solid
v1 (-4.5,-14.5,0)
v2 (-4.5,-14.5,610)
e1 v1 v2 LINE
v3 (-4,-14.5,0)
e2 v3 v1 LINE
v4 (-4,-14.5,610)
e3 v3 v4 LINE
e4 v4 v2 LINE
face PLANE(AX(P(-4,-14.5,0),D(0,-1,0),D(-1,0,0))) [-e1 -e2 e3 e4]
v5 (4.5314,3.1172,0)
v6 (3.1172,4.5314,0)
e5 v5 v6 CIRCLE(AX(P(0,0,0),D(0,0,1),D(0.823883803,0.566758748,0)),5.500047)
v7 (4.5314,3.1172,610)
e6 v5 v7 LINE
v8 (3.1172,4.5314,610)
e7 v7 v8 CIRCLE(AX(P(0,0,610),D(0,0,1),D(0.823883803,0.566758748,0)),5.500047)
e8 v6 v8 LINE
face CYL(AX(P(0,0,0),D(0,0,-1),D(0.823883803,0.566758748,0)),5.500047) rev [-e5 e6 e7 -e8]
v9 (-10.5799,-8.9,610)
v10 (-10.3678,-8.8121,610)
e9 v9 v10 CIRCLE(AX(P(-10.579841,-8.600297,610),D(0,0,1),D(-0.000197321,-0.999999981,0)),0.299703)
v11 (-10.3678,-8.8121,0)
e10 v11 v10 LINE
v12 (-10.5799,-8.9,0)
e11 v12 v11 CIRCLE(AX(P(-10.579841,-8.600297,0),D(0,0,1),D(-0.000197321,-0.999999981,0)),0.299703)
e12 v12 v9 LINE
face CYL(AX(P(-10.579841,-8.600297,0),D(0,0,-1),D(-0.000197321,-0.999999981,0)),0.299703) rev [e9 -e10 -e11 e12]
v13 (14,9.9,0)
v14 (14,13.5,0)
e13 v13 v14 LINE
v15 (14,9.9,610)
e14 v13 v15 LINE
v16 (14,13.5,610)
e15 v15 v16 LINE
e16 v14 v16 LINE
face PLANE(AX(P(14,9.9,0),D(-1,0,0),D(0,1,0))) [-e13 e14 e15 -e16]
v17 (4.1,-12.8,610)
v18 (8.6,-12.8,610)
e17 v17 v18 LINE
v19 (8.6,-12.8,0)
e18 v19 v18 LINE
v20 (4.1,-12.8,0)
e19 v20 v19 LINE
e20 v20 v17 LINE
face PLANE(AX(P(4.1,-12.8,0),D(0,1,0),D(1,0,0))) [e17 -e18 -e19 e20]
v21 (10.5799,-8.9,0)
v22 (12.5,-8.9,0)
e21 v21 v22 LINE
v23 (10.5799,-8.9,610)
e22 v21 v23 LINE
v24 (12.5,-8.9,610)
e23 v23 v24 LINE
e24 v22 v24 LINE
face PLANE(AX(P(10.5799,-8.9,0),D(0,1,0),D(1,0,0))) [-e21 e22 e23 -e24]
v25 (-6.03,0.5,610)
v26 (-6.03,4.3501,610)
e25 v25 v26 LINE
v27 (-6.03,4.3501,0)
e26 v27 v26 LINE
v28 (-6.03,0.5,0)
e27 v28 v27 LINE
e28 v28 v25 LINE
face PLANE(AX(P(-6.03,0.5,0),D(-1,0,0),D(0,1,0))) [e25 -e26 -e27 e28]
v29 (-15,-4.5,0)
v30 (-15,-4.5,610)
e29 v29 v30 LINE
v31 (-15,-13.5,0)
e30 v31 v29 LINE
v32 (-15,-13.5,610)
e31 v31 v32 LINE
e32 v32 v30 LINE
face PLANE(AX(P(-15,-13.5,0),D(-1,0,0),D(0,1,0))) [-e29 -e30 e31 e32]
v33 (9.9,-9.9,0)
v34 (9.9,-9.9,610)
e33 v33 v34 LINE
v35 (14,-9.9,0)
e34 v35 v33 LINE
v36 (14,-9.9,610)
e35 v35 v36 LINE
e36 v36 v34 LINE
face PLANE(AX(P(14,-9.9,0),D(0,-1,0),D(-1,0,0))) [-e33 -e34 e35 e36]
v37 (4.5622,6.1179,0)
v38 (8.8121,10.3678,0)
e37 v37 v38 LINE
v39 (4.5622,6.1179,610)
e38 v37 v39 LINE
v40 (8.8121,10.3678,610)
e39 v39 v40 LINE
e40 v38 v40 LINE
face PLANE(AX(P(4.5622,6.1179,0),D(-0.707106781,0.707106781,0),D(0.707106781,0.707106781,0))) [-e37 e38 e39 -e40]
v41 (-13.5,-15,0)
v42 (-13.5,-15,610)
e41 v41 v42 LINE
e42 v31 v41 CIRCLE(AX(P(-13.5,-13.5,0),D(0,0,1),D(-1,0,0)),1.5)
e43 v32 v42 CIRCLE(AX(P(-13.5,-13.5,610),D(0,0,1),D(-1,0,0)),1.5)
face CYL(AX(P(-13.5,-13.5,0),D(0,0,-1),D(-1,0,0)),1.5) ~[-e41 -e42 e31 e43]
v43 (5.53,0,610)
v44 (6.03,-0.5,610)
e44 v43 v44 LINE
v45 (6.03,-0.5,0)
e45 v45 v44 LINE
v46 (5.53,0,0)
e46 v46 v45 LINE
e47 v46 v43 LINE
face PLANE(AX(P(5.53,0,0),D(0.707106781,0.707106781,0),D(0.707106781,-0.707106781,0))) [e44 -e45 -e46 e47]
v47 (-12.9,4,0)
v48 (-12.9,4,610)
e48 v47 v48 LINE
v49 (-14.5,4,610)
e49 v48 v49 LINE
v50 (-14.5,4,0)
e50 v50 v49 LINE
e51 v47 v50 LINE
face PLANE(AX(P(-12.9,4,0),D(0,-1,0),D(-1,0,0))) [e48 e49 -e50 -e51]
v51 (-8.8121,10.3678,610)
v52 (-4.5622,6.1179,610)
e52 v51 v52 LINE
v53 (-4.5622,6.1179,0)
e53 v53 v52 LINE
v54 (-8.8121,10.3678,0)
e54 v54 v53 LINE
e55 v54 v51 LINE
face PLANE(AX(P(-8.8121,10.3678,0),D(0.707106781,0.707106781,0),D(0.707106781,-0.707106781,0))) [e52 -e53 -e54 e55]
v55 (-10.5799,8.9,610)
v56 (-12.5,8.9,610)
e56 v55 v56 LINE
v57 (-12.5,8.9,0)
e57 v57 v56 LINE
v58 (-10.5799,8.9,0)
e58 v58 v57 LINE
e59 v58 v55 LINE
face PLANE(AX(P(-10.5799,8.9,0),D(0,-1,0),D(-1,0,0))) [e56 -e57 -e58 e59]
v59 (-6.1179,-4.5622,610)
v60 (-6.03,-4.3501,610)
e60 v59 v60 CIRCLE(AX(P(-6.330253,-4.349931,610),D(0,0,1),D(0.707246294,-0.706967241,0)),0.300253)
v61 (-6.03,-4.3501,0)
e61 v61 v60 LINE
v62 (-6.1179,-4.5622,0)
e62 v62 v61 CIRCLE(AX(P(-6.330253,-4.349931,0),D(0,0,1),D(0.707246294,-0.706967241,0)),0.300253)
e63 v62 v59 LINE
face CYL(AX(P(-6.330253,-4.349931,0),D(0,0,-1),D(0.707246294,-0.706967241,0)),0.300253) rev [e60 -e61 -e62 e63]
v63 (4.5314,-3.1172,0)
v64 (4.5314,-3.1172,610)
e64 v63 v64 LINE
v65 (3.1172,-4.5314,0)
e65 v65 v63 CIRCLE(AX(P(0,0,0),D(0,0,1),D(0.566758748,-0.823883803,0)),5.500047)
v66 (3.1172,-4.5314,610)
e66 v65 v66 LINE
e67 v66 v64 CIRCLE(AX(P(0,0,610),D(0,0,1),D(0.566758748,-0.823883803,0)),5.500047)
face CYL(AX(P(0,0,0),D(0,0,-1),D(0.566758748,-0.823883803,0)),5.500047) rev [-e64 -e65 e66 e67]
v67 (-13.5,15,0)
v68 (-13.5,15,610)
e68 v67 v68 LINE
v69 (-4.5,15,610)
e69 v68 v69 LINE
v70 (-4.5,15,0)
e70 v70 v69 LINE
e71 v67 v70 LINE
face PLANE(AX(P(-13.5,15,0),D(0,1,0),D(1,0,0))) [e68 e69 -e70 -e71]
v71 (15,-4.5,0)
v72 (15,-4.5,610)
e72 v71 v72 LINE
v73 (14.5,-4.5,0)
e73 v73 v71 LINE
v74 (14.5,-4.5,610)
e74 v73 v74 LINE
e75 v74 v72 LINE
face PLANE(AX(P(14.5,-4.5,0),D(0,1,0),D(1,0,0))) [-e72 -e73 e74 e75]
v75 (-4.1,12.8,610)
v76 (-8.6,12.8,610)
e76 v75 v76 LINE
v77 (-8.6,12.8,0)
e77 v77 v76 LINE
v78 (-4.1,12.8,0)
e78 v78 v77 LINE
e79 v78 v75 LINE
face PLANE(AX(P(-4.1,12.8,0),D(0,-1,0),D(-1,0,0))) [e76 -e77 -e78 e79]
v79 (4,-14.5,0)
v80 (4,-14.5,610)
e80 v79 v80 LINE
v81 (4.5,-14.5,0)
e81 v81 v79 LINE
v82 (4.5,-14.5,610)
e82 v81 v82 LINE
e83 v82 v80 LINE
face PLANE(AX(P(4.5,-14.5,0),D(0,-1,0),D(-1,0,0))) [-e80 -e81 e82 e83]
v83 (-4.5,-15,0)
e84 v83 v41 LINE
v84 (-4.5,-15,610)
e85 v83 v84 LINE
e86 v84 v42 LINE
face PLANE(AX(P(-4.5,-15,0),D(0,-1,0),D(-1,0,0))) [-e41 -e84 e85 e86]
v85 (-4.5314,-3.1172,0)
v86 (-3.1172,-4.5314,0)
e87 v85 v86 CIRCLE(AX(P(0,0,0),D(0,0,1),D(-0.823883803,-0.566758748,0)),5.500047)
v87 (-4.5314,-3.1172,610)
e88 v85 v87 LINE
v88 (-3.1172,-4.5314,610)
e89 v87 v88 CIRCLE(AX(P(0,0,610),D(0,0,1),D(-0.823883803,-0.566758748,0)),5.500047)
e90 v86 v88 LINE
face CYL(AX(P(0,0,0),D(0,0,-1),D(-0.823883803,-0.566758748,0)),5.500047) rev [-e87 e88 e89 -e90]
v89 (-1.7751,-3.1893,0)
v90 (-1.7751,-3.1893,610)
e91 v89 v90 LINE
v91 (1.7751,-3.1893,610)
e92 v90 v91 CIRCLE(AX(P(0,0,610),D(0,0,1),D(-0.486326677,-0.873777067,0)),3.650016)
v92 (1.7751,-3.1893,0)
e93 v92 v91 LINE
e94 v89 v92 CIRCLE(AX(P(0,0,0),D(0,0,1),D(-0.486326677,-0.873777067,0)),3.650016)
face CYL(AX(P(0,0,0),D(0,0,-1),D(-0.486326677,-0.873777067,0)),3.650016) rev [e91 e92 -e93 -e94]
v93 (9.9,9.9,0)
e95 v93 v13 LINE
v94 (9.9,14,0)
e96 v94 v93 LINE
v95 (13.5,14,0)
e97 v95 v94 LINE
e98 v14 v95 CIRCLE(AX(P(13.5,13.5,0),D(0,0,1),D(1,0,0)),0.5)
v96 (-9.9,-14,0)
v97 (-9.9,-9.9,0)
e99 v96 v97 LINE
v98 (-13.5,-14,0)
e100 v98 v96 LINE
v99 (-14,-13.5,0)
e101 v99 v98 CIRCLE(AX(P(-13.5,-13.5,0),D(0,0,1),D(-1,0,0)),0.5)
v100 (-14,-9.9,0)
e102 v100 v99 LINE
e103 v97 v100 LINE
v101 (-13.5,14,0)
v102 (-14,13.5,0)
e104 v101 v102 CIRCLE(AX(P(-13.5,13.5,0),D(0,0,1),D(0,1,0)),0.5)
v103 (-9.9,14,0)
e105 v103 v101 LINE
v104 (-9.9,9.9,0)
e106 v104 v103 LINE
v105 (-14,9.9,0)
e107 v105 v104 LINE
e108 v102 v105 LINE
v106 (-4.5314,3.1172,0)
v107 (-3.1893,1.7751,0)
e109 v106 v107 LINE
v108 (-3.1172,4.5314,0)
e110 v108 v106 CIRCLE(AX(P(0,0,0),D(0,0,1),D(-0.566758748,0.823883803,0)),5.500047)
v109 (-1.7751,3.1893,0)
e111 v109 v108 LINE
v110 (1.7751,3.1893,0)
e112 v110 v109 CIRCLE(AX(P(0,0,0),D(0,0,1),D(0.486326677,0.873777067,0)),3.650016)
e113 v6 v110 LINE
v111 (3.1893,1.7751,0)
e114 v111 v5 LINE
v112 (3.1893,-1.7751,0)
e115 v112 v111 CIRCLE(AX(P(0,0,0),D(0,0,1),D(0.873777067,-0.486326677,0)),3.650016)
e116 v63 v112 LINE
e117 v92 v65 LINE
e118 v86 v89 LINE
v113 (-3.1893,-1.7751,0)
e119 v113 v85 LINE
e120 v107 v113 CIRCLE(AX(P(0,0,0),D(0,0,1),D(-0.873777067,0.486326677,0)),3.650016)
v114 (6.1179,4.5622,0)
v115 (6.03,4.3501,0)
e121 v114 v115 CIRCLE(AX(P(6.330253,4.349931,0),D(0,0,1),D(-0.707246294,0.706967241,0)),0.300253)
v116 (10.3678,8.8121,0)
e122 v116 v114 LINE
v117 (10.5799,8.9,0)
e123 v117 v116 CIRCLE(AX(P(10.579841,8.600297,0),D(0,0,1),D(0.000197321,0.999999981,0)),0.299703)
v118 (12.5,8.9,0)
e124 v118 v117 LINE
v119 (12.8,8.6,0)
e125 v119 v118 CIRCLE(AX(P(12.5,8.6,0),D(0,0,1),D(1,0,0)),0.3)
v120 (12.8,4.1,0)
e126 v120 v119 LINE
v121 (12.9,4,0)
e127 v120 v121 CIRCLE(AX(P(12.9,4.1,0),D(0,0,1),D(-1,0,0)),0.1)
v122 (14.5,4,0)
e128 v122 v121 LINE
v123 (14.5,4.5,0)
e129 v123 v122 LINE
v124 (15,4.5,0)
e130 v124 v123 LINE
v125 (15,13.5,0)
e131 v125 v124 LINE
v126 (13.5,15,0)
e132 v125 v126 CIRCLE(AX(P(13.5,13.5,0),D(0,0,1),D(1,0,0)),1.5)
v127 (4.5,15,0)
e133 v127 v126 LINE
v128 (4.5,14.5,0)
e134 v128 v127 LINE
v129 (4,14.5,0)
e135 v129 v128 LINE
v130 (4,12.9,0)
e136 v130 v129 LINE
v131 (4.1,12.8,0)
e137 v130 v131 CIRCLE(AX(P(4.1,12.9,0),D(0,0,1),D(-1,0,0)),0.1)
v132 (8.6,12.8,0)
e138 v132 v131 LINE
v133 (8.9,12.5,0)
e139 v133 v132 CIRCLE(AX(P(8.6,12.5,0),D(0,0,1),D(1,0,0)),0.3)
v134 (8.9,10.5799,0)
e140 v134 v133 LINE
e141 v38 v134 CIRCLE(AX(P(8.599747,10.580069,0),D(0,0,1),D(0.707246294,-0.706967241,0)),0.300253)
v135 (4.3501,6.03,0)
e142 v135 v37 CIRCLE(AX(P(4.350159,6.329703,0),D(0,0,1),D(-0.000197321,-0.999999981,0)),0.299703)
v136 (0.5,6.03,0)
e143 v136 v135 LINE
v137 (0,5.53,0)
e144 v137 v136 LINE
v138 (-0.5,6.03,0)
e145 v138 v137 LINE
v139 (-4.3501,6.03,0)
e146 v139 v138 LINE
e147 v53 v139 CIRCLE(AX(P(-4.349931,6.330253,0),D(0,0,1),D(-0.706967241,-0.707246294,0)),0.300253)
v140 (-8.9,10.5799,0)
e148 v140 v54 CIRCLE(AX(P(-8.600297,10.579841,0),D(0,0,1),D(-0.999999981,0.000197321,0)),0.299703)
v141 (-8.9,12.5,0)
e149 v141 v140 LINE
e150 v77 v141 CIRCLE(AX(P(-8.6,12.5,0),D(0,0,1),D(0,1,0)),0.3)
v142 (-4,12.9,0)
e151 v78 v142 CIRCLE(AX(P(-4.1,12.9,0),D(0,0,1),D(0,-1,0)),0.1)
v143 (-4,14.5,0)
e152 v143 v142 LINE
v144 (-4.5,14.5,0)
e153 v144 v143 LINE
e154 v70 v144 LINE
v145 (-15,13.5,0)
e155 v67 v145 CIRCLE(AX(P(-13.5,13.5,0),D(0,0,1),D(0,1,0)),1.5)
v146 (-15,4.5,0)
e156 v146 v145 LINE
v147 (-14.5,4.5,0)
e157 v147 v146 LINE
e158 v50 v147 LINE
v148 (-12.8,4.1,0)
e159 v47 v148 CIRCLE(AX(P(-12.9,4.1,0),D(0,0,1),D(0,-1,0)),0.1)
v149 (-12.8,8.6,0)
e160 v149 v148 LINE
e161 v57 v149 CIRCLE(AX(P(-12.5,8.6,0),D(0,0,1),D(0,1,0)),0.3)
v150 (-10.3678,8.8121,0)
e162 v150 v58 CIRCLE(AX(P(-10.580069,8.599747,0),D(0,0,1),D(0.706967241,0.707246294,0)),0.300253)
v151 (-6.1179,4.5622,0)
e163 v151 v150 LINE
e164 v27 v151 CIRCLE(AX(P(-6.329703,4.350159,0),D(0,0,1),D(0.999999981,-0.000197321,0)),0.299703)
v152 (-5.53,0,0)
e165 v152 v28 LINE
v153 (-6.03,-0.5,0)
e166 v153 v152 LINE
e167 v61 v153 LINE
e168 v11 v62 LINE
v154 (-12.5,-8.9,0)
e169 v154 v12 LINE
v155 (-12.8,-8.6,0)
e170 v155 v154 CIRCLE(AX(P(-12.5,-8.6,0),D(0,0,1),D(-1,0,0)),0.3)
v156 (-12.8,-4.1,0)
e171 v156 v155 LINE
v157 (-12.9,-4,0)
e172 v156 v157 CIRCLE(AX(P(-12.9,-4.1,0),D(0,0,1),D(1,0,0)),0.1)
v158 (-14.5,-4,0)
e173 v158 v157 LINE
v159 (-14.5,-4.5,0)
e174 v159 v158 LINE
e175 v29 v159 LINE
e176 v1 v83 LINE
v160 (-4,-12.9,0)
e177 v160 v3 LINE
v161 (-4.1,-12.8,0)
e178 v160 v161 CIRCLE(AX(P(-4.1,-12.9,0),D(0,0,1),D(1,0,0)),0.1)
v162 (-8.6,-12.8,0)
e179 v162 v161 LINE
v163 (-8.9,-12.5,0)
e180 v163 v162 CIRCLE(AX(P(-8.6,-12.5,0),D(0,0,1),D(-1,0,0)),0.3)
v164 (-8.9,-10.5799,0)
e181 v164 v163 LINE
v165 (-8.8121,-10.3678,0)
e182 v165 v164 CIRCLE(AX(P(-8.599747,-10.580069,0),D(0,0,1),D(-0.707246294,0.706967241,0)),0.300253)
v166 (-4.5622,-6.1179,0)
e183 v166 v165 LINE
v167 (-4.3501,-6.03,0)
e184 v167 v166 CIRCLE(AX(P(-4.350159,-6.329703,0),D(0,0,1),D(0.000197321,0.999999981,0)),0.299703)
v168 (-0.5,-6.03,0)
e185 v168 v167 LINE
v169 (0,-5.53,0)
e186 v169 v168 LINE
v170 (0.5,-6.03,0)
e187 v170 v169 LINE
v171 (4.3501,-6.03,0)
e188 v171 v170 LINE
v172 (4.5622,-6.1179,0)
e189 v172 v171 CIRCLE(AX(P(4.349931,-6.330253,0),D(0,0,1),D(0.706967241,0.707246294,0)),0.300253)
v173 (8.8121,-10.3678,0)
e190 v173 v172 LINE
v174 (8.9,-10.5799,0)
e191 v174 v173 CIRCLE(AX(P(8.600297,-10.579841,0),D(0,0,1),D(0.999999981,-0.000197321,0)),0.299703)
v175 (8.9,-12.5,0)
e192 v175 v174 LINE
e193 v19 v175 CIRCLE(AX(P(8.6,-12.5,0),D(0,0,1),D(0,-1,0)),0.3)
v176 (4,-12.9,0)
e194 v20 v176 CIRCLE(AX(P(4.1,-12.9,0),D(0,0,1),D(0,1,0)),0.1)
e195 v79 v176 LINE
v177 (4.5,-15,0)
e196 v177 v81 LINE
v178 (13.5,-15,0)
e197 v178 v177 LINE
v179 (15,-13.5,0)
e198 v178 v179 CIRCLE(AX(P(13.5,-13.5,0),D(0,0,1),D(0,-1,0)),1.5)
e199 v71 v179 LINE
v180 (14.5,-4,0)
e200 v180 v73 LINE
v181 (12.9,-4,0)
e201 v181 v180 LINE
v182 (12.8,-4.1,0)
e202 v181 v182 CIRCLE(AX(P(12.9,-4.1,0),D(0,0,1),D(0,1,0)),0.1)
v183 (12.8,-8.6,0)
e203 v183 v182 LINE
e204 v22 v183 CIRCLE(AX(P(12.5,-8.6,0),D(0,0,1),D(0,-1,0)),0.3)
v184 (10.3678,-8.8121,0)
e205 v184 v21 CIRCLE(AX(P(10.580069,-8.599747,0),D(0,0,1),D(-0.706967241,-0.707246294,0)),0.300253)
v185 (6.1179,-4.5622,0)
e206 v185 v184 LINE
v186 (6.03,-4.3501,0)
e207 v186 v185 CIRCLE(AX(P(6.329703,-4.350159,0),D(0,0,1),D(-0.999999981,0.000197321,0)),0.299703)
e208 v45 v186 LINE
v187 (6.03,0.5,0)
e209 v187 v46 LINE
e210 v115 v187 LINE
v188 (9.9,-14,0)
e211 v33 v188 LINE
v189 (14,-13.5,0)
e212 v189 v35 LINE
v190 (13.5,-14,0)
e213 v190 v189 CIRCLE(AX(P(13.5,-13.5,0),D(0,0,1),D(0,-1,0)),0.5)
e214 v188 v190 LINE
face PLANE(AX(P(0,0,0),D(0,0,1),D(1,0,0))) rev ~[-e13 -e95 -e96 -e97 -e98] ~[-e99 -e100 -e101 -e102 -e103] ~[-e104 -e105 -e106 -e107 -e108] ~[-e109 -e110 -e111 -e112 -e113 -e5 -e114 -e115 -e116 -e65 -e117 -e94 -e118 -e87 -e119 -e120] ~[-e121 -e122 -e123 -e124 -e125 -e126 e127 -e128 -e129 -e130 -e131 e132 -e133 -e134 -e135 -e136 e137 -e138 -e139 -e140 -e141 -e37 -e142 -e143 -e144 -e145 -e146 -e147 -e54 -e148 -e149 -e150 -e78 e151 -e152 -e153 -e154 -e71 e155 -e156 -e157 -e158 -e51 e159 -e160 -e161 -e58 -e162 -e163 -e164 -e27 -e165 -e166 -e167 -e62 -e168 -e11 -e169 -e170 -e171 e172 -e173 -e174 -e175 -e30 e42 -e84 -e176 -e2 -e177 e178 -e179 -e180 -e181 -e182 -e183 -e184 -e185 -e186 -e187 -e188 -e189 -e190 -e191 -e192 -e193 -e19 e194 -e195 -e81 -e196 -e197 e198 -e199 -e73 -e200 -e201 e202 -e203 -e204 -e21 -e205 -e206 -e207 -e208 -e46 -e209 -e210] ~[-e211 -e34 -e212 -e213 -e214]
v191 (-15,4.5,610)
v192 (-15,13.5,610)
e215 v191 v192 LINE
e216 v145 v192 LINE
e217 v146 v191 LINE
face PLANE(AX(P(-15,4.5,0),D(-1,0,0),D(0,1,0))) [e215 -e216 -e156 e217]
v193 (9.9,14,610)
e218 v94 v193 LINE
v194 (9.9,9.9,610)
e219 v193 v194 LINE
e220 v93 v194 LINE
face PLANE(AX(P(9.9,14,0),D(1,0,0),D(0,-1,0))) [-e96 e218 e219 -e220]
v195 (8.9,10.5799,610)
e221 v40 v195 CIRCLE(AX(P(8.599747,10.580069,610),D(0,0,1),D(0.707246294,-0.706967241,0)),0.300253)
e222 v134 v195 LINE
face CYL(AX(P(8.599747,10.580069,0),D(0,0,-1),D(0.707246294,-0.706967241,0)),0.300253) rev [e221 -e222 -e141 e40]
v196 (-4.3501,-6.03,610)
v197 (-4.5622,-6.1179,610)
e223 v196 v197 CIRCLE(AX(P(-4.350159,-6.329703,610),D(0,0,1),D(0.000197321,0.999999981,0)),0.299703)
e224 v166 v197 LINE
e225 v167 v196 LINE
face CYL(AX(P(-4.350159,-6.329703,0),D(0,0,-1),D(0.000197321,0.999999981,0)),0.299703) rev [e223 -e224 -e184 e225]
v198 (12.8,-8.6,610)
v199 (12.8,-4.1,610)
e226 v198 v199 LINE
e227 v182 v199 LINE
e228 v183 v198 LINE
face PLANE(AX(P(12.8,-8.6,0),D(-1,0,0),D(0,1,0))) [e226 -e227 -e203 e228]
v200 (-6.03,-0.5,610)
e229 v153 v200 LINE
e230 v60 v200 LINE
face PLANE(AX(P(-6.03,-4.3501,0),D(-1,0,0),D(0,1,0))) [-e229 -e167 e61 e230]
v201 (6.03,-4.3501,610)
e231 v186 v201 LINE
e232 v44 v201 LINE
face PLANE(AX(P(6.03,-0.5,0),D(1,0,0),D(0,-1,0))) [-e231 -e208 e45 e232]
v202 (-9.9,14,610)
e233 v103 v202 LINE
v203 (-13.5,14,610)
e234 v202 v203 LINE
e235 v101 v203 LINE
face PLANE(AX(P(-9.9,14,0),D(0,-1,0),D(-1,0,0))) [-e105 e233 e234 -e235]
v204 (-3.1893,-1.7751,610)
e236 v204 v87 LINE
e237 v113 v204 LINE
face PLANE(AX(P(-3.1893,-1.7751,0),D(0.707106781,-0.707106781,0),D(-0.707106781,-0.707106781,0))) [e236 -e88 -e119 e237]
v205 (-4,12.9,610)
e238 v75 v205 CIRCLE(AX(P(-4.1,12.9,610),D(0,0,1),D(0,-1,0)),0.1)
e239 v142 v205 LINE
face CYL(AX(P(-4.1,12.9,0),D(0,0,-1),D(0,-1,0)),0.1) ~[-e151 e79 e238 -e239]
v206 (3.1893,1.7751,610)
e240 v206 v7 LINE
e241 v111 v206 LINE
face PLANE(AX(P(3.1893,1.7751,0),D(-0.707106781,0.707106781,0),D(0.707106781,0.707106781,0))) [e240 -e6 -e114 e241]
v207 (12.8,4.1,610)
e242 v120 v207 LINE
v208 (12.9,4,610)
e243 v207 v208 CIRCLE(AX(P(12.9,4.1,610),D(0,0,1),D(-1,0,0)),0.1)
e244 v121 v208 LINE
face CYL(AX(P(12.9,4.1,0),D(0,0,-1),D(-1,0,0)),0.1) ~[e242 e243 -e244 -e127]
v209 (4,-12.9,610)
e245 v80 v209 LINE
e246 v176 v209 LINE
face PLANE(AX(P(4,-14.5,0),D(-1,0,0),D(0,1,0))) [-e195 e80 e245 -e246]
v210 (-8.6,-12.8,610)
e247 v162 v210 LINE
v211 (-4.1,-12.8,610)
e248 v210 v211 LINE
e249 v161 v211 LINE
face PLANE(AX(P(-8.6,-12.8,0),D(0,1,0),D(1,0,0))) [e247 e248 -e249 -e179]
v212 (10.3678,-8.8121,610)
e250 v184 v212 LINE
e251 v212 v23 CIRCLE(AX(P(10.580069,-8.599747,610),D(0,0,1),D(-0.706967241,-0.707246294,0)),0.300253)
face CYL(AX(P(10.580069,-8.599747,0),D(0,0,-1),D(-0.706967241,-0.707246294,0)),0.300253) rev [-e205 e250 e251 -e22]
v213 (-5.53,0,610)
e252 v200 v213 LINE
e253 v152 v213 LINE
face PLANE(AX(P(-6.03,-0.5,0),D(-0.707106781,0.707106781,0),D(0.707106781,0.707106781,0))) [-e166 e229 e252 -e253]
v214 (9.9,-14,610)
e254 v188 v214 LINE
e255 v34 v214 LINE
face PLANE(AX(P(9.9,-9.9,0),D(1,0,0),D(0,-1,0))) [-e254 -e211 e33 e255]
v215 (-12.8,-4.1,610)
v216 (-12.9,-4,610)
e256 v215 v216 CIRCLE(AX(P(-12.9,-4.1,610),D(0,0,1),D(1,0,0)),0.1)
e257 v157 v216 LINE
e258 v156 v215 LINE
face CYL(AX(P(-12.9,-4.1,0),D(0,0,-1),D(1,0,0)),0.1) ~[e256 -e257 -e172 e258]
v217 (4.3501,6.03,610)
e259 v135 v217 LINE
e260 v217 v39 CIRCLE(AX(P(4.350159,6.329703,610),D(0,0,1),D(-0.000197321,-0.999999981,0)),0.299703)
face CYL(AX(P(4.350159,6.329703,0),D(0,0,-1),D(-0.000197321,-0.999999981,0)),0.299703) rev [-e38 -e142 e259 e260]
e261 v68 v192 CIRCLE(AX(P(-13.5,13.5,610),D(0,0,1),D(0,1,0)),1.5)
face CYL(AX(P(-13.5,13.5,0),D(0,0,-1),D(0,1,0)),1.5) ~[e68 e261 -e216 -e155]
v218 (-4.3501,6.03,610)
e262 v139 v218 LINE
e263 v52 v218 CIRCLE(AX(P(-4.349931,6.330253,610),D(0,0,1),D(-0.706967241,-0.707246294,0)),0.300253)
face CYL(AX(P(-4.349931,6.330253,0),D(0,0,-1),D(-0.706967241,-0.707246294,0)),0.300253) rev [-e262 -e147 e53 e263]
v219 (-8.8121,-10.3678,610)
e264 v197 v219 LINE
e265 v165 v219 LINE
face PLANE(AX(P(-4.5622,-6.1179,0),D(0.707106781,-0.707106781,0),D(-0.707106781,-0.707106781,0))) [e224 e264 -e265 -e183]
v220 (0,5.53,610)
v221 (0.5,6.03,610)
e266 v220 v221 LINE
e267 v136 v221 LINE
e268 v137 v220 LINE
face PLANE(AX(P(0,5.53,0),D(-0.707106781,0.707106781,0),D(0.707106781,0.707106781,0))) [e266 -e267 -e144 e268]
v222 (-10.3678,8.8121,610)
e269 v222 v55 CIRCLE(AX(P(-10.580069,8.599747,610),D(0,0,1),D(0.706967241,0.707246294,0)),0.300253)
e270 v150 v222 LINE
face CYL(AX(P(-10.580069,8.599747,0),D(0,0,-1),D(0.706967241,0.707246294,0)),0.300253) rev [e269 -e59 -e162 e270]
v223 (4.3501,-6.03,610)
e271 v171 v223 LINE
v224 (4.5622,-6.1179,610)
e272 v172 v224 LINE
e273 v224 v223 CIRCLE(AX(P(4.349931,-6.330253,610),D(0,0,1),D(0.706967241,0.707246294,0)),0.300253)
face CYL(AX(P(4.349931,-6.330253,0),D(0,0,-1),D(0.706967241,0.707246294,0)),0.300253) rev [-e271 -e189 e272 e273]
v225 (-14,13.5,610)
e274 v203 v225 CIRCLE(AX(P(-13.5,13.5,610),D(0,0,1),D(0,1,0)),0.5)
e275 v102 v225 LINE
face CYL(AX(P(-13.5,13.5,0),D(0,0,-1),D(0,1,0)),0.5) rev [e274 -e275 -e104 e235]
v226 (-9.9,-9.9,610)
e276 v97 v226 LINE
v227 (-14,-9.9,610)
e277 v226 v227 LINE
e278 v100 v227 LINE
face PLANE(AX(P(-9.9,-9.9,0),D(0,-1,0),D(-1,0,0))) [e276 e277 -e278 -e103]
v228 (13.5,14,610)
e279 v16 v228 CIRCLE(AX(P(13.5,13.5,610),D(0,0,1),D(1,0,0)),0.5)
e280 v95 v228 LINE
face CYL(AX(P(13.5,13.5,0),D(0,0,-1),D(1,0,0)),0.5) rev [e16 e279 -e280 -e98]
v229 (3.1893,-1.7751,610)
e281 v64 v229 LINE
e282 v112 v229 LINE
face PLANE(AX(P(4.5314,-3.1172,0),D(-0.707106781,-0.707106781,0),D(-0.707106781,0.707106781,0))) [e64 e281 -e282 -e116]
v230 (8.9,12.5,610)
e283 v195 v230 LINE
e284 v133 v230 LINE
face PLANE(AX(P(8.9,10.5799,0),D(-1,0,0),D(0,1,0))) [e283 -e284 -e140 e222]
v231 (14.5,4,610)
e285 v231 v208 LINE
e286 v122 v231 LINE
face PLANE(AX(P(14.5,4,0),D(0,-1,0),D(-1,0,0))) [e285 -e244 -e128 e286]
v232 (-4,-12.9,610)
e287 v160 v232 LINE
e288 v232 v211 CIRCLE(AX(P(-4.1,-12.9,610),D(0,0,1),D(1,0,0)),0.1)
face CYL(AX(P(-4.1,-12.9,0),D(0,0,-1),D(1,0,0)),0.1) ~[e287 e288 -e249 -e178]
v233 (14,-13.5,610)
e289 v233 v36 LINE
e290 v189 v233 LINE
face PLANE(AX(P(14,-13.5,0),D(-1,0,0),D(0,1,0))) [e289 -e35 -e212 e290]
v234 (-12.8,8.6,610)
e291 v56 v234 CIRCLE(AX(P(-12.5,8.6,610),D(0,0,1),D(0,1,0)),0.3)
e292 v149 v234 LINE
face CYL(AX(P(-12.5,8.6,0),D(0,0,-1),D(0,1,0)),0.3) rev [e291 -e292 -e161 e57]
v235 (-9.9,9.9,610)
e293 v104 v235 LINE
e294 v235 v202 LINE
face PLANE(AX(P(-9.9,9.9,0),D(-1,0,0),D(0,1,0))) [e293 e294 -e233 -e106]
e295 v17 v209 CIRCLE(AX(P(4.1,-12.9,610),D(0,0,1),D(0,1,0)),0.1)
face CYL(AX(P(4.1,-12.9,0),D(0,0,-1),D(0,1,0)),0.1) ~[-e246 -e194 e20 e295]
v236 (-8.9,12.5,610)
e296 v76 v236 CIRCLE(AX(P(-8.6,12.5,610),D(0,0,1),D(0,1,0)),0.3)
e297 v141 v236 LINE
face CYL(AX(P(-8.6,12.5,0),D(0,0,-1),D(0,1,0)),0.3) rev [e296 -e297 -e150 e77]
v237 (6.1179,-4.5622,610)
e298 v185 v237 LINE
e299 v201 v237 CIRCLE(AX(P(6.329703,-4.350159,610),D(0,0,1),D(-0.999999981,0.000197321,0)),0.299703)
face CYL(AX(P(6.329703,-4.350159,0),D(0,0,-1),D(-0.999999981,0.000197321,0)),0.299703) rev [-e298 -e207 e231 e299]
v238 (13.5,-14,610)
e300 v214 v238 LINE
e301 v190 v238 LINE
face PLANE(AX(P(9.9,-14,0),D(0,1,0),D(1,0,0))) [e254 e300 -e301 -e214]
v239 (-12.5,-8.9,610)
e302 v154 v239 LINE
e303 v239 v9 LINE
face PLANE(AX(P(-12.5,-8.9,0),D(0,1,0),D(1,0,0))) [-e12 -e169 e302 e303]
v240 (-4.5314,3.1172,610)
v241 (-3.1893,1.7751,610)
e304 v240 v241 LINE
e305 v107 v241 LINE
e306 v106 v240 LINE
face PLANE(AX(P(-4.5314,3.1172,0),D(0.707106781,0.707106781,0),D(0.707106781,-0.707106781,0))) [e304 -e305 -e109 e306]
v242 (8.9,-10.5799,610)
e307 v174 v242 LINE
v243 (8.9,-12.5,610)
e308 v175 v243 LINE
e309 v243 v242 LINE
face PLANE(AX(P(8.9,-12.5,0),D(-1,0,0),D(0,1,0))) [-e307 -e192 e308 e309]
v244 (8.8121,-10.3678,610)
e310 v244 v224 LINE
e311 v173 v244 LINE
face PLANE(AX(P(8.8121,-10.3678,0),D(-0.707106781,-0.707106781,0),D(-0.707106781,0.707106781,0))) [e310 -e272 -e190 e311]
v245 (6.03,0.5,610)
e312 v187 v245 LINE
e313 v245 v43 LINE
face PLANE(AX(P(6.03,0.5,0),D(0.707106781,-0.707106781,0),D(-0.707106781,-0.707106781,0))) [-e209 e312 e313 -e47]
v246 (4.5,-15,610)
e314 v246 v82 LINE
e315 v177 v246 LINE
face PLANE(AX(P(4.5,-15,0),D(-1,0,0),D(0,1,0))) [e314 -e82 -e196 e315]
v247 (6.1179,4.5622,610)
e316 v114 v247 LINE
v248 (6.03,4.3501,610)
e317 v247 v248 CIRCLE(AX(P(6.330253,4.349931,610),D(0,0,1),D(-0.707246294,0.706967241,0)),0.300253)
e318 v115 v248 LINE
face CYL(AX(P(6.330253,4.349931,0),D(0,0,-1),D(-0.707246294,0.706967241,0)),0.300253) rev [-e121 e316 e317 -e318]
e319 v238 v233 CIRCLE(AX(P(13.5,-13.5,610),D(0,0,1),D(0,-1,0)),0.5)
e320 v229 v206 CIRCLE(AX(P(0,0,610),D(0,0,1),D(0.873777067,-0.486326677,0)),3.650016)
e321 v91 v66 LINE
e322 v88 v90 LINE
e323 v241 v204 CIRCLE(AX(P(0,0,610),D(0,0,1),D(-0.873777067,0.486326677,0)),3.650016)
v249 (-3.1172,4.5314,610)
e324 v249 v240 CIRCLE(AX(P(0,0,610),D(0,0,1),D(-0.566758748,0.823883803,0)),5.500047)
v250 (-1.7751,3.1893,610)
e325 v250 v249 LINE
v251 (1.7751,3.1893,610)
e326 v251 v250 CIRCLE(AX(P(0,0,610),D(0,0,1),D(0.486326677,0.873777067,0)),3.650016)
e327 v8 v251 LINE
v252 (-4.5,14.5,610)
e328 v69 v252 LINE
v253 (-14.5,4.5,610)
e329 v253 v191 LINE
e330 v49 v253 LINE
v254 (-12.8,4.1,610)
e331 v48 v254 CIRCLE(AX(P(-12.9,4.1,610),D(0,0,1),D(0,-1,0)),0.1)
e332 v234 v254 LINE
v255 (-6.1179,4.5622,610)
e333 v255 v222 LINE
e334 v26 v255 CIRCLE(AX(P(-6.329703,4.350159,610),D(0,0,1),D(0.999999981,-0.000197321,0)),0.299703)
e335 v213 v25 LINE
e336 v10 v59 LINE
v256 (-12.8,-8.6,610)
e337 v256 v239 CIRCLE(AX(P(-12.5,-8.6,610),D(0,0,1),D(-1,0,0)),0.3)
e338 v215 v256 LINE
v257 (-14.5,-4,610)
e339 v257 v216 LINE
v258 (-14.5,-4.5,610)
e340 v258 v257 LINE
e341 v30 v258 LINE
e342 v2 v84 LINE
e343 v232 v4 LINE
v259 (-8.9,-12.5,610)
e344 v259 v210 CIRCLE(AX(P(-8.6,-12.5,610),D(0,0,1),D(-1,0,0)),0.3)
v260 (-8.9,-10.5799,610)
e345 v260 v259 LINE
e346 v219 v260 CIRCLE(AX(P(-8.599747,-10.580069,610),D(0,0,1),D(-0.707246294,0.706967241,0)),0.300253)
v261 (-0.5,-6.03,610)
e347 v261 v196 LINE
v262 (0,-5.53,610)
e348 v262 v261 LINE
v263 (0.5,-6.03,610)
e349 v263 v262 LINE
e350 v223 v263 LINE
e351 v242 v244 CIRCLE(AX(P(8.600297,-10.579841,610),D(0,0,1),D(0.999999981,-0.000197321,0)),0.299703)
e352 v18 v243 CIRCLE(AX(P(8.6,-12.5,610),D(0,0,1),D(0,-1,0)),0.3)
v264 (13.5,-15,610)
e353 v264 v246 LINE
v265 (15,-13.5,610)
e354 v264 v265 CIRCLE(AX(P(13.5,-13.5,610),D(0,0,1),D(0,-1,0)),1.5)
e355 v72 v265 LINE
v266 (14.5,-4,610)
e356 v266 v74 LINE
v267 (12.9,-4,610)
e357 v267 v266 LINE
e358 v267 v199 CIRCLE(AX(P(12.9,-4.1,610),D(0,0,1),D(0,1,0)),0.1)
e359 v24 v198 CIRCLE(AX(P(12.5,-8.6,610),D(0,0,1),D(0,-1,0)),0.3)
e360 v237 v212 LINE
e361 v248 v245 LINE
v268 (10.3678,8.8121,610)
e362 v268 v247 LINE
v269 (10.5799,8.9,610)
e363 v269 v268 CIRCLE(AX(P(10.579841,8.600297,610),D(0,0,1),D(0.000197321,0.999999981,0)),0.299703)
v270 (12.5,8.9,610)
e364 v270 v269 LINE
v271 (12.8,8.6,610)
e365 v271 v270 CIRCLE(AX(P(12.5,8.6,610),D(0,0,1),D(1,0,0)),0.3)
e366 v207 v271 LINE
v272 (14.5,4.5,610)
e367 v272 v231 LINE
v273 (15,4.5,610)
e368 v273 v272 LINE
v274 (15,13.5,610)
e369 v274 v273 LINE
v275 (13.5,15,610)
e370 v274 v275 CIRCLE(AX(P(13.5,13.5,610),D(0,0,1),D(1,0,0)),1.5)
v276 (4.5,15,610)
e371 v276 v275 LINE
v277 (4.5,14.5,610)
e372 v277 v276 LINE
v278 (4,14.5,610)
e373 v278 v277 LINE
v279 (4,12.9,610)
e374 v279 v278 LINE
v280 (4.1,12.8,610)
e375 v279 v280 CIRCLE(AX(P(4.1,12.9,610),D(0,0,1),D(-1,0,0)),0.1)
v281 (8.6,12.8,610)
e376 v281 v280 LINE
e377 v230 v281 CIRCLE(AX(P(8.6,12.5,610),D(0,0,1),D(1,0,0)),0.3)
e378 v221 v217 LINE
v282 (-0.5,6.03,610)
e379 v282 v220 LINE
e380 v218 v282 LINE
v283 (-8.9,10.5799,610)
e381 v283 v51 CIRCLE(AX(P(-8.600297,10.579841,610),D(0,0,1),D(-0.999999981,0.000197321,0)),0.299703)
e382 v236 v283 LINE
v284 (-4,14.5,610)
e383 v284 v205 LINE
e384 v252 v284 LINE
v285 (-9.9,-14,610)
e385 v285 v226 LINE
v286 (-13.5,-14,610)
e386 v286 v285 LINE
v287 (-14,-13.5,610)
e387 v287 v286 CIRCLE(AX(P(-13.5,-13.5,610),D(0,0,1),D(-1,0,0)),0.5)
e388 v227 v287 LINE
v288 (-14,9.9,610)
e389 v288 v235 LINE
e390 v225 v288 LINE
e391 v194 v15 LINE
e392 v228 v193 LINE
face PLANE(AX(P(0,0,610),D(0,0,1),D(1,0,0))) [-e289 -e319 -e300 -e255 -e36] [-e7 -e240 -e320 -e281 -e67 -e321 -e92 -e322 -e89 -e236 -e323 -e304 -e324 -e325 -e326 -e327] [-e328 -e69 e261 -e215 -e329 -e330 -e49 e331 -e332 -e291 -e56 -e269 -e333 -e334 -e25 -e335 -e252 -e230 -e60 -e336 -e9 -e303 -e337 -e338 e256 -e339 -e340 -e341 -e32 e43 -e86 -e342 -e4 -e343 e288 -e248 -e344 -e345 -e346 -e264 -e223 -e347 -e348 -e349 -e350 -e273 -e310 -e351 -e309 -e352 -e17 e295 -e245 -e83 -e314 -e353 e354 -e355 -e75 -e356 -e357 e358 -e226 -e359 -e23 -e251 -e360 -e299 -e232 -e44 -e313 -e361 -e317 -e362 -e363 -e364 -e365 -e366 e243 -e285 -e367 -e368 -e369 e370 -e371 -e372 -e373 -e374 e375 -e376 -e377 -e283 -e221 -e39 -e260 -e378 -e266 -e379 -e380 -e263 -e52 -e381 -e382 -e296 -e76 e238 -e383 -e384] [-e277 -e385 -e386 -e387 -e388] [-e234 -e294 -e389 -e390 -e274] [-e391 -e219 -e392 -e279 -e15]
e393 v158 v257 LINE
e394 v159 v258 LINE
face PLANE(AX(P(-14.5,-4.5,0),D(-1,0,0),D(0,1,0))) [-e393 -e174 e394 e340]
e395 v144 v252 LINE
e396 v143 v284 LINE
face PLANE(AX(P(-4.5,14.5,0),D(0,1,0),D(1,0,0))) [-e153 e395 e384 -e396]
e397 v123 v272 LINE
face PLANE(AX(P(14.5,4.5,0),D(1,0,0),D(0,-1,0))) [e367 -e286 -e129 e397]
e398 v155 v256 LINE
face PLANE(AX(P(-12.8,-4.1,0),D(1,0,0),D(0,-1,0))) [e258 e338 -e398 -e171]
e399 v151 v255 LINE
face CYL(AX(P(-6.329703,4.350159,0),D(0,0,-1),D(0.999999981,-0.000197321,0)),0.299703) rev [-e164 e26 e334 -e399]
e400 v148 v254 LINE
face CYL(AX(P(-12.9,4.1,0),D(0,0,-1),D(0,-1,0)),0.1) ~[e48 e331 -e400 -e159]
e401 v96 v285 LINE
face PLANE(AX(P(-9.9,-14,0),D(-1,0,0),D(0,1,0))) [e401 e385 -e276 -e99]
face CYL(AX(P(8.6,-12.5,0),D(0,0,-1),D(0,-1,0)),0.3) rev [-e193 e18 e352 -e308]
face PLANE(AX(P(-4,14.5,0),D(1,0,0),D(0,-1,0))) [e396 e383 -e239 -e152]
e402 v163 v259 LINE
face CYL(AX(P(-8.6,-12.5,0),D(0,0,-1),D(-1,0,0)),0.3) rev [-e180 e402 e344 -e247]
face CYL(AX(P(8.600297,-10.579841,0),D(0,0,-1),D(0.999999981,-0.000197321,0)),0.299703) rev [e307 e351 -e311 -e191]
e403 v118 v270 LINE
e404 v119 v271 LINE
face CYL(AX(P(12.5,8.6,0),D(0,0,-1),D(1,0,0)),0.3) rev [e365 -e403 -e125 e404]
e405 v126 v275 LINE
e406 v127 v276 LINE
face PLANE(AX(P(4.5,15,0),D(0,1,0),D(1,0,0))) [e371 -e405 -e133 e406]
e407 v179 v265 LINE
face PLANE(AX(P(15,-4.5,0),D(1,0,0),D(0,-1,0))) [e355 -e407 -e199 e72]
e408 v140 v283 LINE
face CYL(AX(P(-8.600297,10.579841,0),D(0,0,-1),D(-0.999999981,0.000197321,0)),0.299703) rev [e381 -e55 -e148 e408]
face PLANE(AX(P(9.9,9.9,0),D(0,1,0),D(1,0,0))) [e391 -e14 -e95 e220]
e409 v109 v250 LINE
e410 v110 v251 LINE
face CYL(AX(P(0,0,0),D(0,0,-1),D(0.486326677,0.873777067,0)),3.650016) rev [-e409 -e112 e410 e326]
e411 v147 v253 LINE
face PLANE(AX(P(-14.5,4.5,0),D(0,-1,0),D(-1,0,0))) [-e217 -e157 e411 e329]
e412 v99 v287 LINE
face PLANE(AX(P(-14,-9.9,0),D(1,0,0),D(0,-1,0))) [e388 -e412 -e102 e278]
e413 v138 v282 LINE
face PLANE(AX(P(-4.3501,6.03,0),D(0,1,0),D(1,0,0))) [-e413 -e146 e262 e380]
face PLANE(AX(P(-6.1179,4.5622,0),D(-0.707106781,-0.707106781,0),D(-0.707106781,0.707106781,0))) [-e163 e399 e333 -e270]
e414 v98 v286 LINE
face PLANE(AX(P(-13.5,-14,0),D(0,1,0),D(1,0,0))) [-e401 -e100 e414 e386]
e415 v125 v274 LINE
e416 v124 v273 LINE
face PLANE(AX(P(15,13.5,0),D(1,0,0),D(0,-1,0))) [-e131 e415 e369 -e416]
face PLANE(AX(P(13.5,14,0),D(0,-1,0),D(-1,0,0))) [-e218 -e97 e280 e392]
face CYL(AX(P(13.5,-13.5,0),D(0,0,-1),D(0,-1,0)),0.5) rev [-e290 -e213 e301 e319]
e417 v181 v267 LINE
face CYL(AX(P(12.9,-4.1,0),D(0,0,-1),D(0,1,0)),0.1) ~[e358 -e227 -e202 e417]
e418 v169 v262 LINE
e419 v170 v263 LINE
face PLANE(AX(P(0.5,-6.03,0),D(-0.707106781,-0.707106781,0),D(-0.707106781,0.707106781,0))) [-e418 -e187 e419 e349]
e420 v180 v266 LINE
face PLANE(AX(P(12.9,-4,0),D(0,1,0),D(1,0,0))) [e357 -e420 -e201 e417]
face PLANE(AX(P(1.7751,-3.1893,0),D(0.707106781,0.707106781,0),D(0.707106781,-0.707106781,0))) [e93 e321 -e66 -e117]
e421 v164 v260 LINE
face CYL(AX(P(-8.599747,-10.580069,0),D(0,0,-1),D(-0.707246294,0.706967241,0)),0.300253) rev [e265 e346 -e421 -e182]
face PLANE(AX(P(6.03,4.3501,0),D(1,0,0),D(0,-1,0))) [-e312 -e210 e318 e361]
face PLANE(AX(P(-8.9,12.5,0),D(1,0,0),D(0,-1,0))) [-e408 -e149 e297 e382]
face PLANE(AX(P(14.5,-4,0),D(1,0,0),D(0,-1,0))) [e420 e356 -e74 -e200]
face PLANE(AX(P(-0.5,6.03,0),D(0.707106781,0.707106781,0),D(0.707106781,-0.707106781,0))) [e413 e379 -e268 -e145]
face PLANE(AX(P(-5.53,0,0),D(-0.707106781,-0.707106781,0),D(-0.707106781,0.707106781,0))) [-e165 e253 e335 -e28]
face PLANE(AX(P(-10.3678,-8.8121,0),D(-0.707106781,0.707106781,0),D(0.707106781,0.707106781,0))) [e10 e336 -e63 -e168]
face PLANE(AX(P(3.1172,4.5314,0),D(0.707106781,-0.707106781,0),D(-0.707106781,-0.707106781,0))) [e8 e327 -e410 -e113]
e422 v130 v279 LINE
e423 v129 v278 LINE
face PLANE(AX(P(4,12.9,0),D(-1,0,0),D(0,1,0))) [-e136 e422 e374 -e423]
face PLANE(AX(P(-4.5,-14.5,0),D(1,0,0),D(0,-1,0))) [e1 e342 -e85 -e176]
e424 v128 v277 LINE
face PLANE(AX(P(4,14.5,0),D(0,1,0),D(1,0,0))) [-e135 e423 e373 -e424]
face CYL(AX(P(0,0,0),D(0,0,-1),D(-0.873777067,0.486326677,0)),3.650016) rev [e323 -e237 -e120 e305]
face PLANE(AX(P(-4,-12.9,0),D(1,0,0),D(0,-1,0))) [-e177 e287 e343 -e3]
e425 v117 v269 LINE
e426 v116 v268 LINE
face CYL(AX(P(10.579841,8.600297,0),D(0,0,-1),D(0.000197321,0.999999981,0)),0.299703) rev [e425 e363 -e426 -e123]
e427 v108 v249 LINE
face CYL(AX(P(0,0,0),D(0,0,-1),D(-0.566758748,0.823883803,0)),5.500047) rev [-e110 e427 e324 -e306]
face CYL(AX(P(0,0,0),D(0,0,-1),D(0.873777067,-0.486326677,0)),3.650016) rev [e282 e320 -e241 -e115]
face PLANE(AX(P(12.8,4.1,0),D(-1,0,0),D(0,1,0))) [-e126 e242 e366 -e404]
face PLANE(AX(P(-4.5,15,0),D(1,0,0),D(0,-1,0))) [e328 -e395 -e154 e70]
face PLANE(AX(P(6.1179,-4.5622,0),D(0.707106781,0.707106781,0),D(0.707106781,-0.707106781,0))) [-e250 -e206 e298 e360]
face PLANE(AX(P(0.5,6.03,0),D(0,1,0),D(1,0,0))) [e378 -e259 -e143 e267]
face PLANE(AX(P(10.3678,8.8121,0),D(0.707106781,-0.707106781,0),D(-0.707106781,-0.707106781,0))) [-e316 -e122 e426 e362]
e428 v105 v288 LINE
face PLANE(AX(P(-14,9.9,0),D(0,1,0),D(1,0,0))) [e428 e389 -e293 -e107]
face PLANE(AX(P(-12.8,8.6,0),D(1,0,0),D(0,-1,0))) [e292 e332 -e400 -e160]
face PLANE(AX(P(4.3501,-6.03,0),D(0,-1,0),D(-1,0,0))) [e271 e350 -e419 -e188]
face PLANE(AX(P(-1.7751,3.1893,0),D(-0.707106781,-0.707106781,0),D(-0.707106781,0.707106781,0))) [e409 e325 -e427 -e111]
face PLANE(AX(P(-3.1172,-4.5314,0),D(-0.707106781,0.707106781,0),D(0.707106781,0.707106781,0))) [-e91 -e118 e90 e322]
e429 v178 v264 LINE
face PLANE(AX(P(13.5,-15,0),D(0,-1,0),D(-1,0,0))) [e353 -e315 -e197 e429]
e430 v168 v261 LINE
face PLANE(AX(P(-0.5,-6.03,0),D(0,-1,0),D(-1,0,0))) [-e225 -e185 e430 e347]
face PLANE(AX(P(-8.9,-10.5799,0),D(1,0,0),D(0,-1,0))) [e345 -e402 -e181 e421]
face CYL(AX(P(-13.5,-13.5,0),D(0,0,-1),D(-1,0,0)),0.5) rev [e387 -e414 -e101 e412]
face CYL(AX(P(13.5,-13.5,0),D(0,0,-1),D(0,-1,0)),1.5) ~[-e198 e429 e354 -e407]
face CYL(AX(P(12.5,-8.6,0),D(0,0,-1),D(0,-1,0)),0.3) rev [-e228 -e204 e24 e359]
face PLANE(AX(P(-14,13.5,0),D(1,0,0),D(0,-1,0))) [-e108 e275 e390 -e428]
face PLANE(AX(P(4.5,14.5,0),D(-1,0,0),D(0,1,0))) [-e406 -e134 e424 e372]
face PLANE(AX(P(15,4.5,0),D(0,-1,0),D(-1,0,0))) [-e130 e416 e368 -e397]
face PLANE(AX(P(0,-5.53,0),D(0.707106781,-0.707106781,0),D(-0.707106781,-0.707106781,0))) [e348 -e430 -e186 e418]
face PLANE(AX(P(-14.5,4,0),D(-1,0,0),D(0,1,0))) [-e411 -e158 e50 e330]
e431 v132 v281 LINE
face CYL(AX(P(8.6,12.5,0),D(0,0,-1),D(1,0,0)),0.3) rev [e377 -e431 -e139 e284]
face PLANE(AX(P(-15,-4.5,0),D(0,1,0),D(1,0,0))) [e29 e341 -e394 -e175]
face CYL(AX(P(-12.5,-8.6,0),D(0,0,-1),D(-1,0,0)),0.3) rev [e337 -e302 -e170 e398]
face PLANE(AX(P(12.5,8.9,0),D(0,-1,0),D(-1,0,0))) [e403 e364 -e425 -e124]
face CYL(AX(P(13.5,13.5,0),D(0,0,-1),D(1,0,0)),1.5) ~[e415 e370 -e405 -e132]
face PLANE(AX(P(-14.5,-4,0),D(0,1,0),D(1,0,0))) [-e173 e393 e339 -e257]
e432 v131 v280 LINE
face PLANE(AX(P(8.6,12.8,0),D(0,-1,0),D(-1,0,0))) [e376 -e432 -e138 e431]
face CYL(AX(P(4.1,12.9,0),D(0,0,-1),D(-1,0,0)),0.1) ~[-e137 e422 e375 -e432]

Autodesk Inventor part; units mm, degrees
ref_plane "YZ Plane" through (0, 0, 0) normal (1, 0, 0) x (0, 1, 0)
ref_plane "Płaszczyzna początkowa" through (0, 0, 0) normal (0, 0, 1) x (1, 0, 0)
ref_plane "Płaszczyzna końcowa" through (0, 0, 610) normal (0, 0, 1) x (1, 0, 0)
sketch "Szkic" plane through (0, 0, 0) normal (0, 0, 1) x (1, 0, 0)
  line L0 (1.7751, -3.1893) -> (3.1172, -4.5314)
  arc A0 (-1.7751, -3.1893) -> (1.7751, -3.1893) centre (0, 0) ccw
  line L1 (-3.1172, -4.5314) -> (-1.7751, -3.1893)
  arc A1 (-4.5314, -3.1172) -> (-3.1172, -4.5314) centre (0, 0) ccw
  line L2 (-3.1893, -1.7751) -> (-4.5314, -3.1172)
  arc A2 (-3.1893, 1.7751) -> (-3.1893, -1.7751) centre (0, 0) ccw
  line L3 (-4.5314, 3.1172) -> (-3.1893, 1.7751)
  arc A3 (-3.1172, 4.5314) -> (-4.5314, 3.1172) centre (0, 0) ccw
  line L4 (-1.7751, 3.1893) -> (-3.1172, 4.5314)
  arc A4 (1.7751, 3.1893) -> (-1.7751, 3.1893) centre (0, 0) ccw
  line L5 (3.1172, 4.5314) -> (1.7751, 3.1893)
  arc A5 (4.5314, 3.1172) -> (3.1172, 4.5314) centre (0, 0) ccw
  line L6 (3.1893, 1.7751) -> (4.5314, 3.1172)
  arc A6 (3.1893, -1.7751) -> (3.1893, 1.7751) centre (0, 0) ccw
  line L7 (4.5314, -3.1172) -> (3.1893, -1.7751)
  arc A7 (3.1172, -4.5314) -> (4.5314, -3.1172) centre (0, 0) ccw
  line L8 (14, -13.5) -> (14, -9.9)
  arc A8 (13.5, -14) -> (14, -13.5) centre (13.5, -13.5) ccw
  line L9 (9.9, -14) -> (13.5, -14)
  line L10 (9.9, -9.9) -> (9.9, -14)
  line L11 (14, -9.9) -> (9.9, -9.9)
  line L12 (-9.9, -9.9) -> (-14, -9.9)
  line L13 (-9.9, -14) -> (-9.9, -9.9)
  line L14 (-13.5, -14) -> (-9.9, -14)
  arc A9 (-14, -13.5) -> (-13.5, -14) centre (-13.5, -13.5) ccw
  line L15 (-14, -9.9) -> (-14, -13.5)
  line L16 (14, 9.9) -> (14, 13.5)
  line L17 (9.9, 9.9) -> (14, 9.9)
  line L18 (9.9, 14) -> (9.9, 9.9)
  line L19 (13.5, 14) -> (9.9, 14)
  arc A10 (14, 13.5) -> (13.5, 14) centre (13.5, 13.5) ccw
  line L20 (-14, 9.9) -> (-9.9, 9.9)
  line L21 (-14, 13.5) -> (-14, 9.9)
  arc A11 (-13.5, 14) -> (-14, 13.5) centre (-13.5, 13.5) ccw
  line L22 (-9.9, 14) -> (-13.5, 14)
  line L23 (-9.9, 9.9) -> (-9.9, 14)
  line L24 (13.5, -15) -> (4.5, -15)
  arc A12 (13.5, -15) -> (15, -13.5) centre (13.5, -13.5) ccw
  line L25 (15, -4.5) -> (15, -13.5)
  line L26 (14.5, -4.5) -> (15, -4.5)
  line L27 (14.5, -4) -> (14.5, -4.5)
  line L28 (12.9, -4) -> (14.5, -4)
  arc A13 (12.9, -4) -> (12.8, -4.1) centre (12.9, -4.1) ccw
  line L29 (12.8, -8.6) -> (12.8, -4.1)
  arc A14 (12.5, -8.9) -> (12.8, -8.6) centre (12.5, -8.6) ccw
  line L30 (10.5799, -8.9) -> (12.5, -8.9)
  arc A15 (10.3678, -8.8121) -> (10.5799, -8.9) centre (10.5799, -8.6) ccw
  line L31 (6.1179, -4.5622) -> (10.3678, -8.8121)
  arc A16 (6.03, -4.3501) -> (6.1179, -4.5622) centre (6.33, -4.3501) ccw
  line L32 (6.03, -0.5) -> (6.03, -4.3501)
  line L33 (5.53, 0) -> (6.03, -0.5)
  line L34 (6.03, 0.5) -> (5.53, 0)
  line L35 (6.03, 4.3501) -> (6.03, 0.5)
  arc A17 (6.1179, 4.5622) -> (6.03, 4.3501) centre (6.33, 4.3501) ccw
  line L36 (10.3678, 8.8121) -> (6.1179, 4.5622)
  arc A18 (10.5799, 8.9) -> (10.3678, 8.8121) centre (10.5799, 8.6) ccw
  line L37 (12.5, 8.9) -> (10.5799, 8.9)
  arc A19 (12.8, 8.6) -> (12.5, 8.9) centre (12.5, 8.6) ccw
  line L38 (12.8, 4.1) -> (12.8, 8.6)
  arc A20 (12.8, 4.1) -> (12.9, 4) centre (12.9, 4.1) ccw
  line L39 (14.5, 4) -> (12.9, 4)
  line L40 (14.5, 4.5) -> (14.5, 4)
  line L41 (15, 4.5) -> (14.5, 4.5)
  line L42 (15, 13.5) -> (15, 4.5)
  arc A21 (15, 13.5) -> (13.5, 15) centre (13.5, 13.5) ccw
  line L43 (4.5, 15) -> (13.5, 15)
  line L44 (4.5, 14.5) -> (4.5, 15)
  line L45 (4, 14.5) -> (4.5, 14.5)
  line L46 (4, 12.9) -> (4, 14.5)
  arc A22 (4, 12.9) -> (4.1, 12.8) centre (4.1, 12.9) ccw
  line L47 (8.6, 12.8) -> (4.1, 12.8)
  arc A23 (8.9, 12.5) -> (8.6, 12.8) centre (8.6, 12.5) ccw
  line L48 (8.9, 10.5799) -> (8.9, 12.5)
  arc A24 (8.8121, 10.3678) -> (8.9, 10.5799) centre (8.6, 10.5799) ccw
  line L49 (4.5622, 6.1179) -> (8.8121, 10.3678)
  arc A25 (4.3501, 6.03) -> (4.5622, 6.1179) centre (4.3501, 6.33) ccw
  line L50 (0.5, 6.03) -> (4.3501, 6.03)
  line L51 (0, 5.53) -> (0.5, 6.03)
  line L52 (-0.5, 6.03) -> (0, 5.53)
  line L53 (-4.3501, 6.03) -> (-0.5, 6.03)
  arc A26 (-4.5622, 6.1179) -> (-4.3501, 6.03) centre (-4.3501, 6.33) ccw
  line L54 (-8.8121, 10.3678) -> (-4.5622, 6.1179)
  arc A27 (-8.9, 10.5799) -> (-8.8121, 10.3678) centre (-8.6, 10.5799) ccw
  line L55 (-8.9, 12.5) -> (-8.9, 10.5799)
  arc A28 (-8.6, 12.8) -> (-8.9, 12.5) centre (-8.6, 12.5) ccw
  line L56 (-4.1, 12.8) -> (-8.6, 12.8)
  arc A29 (-4.1, 12.8) -> (-4, 12.9) centre (-4.1, 12.9) ccw
  line L57 (-4, 14.5) -> (-4, 12.9)
  line L58 (-4.5, 14.5) -> (-4, 14.5)
  line L59 (-4.5, 15) -> (-4.5, 14.5)
  line L60 (-13.5, 15) -> (-4.5, 15)
  arc A30 (-13.5, 15) -> (-15, 13.5) centre (-13.5, 13.5) ccw
  line L61 (-15, 4.5) -> (-15, 13.5)
  line L62 (-14.5, 4.5) -> (-15, 4.5)
  line L63 (-14.5, 4) -> (-14.5, 4.5)
  line L64 (-12.9, 4) -> (-14.5, 4)
  arc A31 (-12.9, 4) -> (-12.8, 4.1) centre (-12.9, 4.1) ccw
  line L65 (-12.8, 8.6) -> (-12.8, 4.1)
  arc A32 (-12.5, 8.9) -> (-12.8, 8.6) centre (-12.5, 8.6) ccw
  line L66 (-10.5799, 8.9) -> (-12.5, 8.9)
  arc A33 (-10.3678, 8.8121) -> (-10.5799, 8.9) centre (-10.5799, 8.6) ccw
  line L67 (-6.1179, 4.5622) -> (-10.3678, 8.8121)
  arc A34 (-6.03, 4.3501) -> (-6.1179, 4.5622) centre (-6.33, 4.3501) ccw
  line L68 (-6.03, 0.5) -> (-6.03, 4.3501)
  line L69 (-5.53, 0) -> (-6.03, 0.5)
  line L70 (-6.03, -0.5) -> (-5.53, 0)
  line L71 (-6.03, -4.3501) -> (-6.03, -0.5)
  arc A35 (-6.1179, -4.5622) -> (-6.03, -4.3501) centre (-6.33, -4.3501) ccw
  line L72 (-10.3678, -8.8121) -> (-6.1179, -4.5622)
  arc A36 (-10.5799, -8.9) -> (-10.3678, -8.8121) centre (-10.5799, -8.6) ccw
  line L73 (-12.5, -8.9) -> (-10.5799, -8.9)
  arc A37 (-12.8, -8.6) -> (-12.5, -8.9) centre (-12.5, -8.6) ccw
  line L74 (-12.8, -4.1) -> (-12.8, -8.6)
  arc A38 (-12.8, -4.1) -> (-12.9, -4) centre (-12.9, -4.1) ccw
  line L75 (-14.5, -4) -> (-12.9, -4)
  line L76 (-14.5, -4.5) -> (-14.5, -4)
  line L77 (-15, -4.5) -> (-14.5, -4.5)
  line L78 (-15, -13.5) -> (-15, -4.5)
  arc A39 (-15, -13.5) -> (-13.5, -15) centre (-13.5, -13.5) ccw
  line L79 (-4.5, -15) -> (-13.5, -15)
  line L80 (-4.5, -14.5) -> (-4.5, -15)
  line L81 (-4, -14.5) -> (-4.5, -14.5)
  line L82 (-4, -12.9) -> (-4, -14.5)
  arc A40 (-4, -12.9) -> (-4.1, -12.8) centre (-4.1, -12.9) ccw
  line L83 (-8.6, -12.8) -> (-4.1, -12.8)
  arc A41 (-8.9, -12.5) -> (-8.6, -12.8) centre (-8.6, -12.5) ccw
  line L84 (-8.9, -10.5799) -> (-8.9, -12.5)
  arc A42 (-8.8121, -10.3678) -> (-8.9, -10.5799) centre (-8.6, -10.5799) ccw
  line L85 (-4.5622, -6.1179) -> (-8.8121, -10.3678)
  arc A43 (-4.3501, -6.03) -> (-4.5622, -6.1179) centre (-4.3501, -6.33) ccw
  line L86 (-0.5, -6.03) -> (-4.3501, -6.03)
  line L87 (0, -5.53) -> (-0.5, -6.03)
  line L88 (0.5, -6.03) -> (0, -5.53)
  line L89 (4.3501, -6.03) -> (0.5, -6.03)
  arc A44 (4.5622, -6.1179) -> (4.3501, -6.03) centre (4.3501, -6.33) ccw
  line L90 (8.8121, -10.3678) -> (4.5622, -6.1179)
  arc A45 (8.9, -10.5799) -> (8.8121, -10.3678) centre (8.6, -10.5799) ccw
  line L91 (8.9, -12.5) -> (8.9, -10.5799)
  arc A46 (8.6, -12.8) -> (8.9, -12.5) centre (8.6, -12.5) ccw
  line L92 (4.1, -12.8) -> (8.6, -12.8)
  arc A47 (4.1, -12.8) -> (4, -12.9) centre (4.1, -12.9) ccw
  line L93 (4, -14.5) -> (4, -12.9)
  line L94 (4.5, -14.5) -> (4, -14.5)
  line L95 (4.5, -15) -> (4.5, -14.5)
  point P0 (15, -15)
extrude "Bryła" add sketch "Szkic" along normal up to surface (610 mm away) from surface at 0
sketch "Szkic2" plane through (0, 0, 0) normal (0, 0, 1) x (1, 0, 0)
  line L0 (0, 0) -> (10, 0)
ref_plane "Płaszczyzna konstrukcyjna3" through (0, 0, 0) normal (0, -1, 0) x (1, 0, 0)
sketch "Szkic3" plane through (0, 0, 0) normal (0, -1, 0) x (1, 0, 0)
  line L0 (-2, 0) -> (12, 0)
  line L1 (-2, 610) -> (12, 610)
  dimension "d7" = 610
equation "\"G_OFFSET_START\" = 0"
equation "\"G_OFFSET_END\" = 0"
equation "\"G_L\" = d7"
properties part number "COTS_ARMA_AR3703_30x30_Alu_Extr_00000001" material "Aluminium 6061"
